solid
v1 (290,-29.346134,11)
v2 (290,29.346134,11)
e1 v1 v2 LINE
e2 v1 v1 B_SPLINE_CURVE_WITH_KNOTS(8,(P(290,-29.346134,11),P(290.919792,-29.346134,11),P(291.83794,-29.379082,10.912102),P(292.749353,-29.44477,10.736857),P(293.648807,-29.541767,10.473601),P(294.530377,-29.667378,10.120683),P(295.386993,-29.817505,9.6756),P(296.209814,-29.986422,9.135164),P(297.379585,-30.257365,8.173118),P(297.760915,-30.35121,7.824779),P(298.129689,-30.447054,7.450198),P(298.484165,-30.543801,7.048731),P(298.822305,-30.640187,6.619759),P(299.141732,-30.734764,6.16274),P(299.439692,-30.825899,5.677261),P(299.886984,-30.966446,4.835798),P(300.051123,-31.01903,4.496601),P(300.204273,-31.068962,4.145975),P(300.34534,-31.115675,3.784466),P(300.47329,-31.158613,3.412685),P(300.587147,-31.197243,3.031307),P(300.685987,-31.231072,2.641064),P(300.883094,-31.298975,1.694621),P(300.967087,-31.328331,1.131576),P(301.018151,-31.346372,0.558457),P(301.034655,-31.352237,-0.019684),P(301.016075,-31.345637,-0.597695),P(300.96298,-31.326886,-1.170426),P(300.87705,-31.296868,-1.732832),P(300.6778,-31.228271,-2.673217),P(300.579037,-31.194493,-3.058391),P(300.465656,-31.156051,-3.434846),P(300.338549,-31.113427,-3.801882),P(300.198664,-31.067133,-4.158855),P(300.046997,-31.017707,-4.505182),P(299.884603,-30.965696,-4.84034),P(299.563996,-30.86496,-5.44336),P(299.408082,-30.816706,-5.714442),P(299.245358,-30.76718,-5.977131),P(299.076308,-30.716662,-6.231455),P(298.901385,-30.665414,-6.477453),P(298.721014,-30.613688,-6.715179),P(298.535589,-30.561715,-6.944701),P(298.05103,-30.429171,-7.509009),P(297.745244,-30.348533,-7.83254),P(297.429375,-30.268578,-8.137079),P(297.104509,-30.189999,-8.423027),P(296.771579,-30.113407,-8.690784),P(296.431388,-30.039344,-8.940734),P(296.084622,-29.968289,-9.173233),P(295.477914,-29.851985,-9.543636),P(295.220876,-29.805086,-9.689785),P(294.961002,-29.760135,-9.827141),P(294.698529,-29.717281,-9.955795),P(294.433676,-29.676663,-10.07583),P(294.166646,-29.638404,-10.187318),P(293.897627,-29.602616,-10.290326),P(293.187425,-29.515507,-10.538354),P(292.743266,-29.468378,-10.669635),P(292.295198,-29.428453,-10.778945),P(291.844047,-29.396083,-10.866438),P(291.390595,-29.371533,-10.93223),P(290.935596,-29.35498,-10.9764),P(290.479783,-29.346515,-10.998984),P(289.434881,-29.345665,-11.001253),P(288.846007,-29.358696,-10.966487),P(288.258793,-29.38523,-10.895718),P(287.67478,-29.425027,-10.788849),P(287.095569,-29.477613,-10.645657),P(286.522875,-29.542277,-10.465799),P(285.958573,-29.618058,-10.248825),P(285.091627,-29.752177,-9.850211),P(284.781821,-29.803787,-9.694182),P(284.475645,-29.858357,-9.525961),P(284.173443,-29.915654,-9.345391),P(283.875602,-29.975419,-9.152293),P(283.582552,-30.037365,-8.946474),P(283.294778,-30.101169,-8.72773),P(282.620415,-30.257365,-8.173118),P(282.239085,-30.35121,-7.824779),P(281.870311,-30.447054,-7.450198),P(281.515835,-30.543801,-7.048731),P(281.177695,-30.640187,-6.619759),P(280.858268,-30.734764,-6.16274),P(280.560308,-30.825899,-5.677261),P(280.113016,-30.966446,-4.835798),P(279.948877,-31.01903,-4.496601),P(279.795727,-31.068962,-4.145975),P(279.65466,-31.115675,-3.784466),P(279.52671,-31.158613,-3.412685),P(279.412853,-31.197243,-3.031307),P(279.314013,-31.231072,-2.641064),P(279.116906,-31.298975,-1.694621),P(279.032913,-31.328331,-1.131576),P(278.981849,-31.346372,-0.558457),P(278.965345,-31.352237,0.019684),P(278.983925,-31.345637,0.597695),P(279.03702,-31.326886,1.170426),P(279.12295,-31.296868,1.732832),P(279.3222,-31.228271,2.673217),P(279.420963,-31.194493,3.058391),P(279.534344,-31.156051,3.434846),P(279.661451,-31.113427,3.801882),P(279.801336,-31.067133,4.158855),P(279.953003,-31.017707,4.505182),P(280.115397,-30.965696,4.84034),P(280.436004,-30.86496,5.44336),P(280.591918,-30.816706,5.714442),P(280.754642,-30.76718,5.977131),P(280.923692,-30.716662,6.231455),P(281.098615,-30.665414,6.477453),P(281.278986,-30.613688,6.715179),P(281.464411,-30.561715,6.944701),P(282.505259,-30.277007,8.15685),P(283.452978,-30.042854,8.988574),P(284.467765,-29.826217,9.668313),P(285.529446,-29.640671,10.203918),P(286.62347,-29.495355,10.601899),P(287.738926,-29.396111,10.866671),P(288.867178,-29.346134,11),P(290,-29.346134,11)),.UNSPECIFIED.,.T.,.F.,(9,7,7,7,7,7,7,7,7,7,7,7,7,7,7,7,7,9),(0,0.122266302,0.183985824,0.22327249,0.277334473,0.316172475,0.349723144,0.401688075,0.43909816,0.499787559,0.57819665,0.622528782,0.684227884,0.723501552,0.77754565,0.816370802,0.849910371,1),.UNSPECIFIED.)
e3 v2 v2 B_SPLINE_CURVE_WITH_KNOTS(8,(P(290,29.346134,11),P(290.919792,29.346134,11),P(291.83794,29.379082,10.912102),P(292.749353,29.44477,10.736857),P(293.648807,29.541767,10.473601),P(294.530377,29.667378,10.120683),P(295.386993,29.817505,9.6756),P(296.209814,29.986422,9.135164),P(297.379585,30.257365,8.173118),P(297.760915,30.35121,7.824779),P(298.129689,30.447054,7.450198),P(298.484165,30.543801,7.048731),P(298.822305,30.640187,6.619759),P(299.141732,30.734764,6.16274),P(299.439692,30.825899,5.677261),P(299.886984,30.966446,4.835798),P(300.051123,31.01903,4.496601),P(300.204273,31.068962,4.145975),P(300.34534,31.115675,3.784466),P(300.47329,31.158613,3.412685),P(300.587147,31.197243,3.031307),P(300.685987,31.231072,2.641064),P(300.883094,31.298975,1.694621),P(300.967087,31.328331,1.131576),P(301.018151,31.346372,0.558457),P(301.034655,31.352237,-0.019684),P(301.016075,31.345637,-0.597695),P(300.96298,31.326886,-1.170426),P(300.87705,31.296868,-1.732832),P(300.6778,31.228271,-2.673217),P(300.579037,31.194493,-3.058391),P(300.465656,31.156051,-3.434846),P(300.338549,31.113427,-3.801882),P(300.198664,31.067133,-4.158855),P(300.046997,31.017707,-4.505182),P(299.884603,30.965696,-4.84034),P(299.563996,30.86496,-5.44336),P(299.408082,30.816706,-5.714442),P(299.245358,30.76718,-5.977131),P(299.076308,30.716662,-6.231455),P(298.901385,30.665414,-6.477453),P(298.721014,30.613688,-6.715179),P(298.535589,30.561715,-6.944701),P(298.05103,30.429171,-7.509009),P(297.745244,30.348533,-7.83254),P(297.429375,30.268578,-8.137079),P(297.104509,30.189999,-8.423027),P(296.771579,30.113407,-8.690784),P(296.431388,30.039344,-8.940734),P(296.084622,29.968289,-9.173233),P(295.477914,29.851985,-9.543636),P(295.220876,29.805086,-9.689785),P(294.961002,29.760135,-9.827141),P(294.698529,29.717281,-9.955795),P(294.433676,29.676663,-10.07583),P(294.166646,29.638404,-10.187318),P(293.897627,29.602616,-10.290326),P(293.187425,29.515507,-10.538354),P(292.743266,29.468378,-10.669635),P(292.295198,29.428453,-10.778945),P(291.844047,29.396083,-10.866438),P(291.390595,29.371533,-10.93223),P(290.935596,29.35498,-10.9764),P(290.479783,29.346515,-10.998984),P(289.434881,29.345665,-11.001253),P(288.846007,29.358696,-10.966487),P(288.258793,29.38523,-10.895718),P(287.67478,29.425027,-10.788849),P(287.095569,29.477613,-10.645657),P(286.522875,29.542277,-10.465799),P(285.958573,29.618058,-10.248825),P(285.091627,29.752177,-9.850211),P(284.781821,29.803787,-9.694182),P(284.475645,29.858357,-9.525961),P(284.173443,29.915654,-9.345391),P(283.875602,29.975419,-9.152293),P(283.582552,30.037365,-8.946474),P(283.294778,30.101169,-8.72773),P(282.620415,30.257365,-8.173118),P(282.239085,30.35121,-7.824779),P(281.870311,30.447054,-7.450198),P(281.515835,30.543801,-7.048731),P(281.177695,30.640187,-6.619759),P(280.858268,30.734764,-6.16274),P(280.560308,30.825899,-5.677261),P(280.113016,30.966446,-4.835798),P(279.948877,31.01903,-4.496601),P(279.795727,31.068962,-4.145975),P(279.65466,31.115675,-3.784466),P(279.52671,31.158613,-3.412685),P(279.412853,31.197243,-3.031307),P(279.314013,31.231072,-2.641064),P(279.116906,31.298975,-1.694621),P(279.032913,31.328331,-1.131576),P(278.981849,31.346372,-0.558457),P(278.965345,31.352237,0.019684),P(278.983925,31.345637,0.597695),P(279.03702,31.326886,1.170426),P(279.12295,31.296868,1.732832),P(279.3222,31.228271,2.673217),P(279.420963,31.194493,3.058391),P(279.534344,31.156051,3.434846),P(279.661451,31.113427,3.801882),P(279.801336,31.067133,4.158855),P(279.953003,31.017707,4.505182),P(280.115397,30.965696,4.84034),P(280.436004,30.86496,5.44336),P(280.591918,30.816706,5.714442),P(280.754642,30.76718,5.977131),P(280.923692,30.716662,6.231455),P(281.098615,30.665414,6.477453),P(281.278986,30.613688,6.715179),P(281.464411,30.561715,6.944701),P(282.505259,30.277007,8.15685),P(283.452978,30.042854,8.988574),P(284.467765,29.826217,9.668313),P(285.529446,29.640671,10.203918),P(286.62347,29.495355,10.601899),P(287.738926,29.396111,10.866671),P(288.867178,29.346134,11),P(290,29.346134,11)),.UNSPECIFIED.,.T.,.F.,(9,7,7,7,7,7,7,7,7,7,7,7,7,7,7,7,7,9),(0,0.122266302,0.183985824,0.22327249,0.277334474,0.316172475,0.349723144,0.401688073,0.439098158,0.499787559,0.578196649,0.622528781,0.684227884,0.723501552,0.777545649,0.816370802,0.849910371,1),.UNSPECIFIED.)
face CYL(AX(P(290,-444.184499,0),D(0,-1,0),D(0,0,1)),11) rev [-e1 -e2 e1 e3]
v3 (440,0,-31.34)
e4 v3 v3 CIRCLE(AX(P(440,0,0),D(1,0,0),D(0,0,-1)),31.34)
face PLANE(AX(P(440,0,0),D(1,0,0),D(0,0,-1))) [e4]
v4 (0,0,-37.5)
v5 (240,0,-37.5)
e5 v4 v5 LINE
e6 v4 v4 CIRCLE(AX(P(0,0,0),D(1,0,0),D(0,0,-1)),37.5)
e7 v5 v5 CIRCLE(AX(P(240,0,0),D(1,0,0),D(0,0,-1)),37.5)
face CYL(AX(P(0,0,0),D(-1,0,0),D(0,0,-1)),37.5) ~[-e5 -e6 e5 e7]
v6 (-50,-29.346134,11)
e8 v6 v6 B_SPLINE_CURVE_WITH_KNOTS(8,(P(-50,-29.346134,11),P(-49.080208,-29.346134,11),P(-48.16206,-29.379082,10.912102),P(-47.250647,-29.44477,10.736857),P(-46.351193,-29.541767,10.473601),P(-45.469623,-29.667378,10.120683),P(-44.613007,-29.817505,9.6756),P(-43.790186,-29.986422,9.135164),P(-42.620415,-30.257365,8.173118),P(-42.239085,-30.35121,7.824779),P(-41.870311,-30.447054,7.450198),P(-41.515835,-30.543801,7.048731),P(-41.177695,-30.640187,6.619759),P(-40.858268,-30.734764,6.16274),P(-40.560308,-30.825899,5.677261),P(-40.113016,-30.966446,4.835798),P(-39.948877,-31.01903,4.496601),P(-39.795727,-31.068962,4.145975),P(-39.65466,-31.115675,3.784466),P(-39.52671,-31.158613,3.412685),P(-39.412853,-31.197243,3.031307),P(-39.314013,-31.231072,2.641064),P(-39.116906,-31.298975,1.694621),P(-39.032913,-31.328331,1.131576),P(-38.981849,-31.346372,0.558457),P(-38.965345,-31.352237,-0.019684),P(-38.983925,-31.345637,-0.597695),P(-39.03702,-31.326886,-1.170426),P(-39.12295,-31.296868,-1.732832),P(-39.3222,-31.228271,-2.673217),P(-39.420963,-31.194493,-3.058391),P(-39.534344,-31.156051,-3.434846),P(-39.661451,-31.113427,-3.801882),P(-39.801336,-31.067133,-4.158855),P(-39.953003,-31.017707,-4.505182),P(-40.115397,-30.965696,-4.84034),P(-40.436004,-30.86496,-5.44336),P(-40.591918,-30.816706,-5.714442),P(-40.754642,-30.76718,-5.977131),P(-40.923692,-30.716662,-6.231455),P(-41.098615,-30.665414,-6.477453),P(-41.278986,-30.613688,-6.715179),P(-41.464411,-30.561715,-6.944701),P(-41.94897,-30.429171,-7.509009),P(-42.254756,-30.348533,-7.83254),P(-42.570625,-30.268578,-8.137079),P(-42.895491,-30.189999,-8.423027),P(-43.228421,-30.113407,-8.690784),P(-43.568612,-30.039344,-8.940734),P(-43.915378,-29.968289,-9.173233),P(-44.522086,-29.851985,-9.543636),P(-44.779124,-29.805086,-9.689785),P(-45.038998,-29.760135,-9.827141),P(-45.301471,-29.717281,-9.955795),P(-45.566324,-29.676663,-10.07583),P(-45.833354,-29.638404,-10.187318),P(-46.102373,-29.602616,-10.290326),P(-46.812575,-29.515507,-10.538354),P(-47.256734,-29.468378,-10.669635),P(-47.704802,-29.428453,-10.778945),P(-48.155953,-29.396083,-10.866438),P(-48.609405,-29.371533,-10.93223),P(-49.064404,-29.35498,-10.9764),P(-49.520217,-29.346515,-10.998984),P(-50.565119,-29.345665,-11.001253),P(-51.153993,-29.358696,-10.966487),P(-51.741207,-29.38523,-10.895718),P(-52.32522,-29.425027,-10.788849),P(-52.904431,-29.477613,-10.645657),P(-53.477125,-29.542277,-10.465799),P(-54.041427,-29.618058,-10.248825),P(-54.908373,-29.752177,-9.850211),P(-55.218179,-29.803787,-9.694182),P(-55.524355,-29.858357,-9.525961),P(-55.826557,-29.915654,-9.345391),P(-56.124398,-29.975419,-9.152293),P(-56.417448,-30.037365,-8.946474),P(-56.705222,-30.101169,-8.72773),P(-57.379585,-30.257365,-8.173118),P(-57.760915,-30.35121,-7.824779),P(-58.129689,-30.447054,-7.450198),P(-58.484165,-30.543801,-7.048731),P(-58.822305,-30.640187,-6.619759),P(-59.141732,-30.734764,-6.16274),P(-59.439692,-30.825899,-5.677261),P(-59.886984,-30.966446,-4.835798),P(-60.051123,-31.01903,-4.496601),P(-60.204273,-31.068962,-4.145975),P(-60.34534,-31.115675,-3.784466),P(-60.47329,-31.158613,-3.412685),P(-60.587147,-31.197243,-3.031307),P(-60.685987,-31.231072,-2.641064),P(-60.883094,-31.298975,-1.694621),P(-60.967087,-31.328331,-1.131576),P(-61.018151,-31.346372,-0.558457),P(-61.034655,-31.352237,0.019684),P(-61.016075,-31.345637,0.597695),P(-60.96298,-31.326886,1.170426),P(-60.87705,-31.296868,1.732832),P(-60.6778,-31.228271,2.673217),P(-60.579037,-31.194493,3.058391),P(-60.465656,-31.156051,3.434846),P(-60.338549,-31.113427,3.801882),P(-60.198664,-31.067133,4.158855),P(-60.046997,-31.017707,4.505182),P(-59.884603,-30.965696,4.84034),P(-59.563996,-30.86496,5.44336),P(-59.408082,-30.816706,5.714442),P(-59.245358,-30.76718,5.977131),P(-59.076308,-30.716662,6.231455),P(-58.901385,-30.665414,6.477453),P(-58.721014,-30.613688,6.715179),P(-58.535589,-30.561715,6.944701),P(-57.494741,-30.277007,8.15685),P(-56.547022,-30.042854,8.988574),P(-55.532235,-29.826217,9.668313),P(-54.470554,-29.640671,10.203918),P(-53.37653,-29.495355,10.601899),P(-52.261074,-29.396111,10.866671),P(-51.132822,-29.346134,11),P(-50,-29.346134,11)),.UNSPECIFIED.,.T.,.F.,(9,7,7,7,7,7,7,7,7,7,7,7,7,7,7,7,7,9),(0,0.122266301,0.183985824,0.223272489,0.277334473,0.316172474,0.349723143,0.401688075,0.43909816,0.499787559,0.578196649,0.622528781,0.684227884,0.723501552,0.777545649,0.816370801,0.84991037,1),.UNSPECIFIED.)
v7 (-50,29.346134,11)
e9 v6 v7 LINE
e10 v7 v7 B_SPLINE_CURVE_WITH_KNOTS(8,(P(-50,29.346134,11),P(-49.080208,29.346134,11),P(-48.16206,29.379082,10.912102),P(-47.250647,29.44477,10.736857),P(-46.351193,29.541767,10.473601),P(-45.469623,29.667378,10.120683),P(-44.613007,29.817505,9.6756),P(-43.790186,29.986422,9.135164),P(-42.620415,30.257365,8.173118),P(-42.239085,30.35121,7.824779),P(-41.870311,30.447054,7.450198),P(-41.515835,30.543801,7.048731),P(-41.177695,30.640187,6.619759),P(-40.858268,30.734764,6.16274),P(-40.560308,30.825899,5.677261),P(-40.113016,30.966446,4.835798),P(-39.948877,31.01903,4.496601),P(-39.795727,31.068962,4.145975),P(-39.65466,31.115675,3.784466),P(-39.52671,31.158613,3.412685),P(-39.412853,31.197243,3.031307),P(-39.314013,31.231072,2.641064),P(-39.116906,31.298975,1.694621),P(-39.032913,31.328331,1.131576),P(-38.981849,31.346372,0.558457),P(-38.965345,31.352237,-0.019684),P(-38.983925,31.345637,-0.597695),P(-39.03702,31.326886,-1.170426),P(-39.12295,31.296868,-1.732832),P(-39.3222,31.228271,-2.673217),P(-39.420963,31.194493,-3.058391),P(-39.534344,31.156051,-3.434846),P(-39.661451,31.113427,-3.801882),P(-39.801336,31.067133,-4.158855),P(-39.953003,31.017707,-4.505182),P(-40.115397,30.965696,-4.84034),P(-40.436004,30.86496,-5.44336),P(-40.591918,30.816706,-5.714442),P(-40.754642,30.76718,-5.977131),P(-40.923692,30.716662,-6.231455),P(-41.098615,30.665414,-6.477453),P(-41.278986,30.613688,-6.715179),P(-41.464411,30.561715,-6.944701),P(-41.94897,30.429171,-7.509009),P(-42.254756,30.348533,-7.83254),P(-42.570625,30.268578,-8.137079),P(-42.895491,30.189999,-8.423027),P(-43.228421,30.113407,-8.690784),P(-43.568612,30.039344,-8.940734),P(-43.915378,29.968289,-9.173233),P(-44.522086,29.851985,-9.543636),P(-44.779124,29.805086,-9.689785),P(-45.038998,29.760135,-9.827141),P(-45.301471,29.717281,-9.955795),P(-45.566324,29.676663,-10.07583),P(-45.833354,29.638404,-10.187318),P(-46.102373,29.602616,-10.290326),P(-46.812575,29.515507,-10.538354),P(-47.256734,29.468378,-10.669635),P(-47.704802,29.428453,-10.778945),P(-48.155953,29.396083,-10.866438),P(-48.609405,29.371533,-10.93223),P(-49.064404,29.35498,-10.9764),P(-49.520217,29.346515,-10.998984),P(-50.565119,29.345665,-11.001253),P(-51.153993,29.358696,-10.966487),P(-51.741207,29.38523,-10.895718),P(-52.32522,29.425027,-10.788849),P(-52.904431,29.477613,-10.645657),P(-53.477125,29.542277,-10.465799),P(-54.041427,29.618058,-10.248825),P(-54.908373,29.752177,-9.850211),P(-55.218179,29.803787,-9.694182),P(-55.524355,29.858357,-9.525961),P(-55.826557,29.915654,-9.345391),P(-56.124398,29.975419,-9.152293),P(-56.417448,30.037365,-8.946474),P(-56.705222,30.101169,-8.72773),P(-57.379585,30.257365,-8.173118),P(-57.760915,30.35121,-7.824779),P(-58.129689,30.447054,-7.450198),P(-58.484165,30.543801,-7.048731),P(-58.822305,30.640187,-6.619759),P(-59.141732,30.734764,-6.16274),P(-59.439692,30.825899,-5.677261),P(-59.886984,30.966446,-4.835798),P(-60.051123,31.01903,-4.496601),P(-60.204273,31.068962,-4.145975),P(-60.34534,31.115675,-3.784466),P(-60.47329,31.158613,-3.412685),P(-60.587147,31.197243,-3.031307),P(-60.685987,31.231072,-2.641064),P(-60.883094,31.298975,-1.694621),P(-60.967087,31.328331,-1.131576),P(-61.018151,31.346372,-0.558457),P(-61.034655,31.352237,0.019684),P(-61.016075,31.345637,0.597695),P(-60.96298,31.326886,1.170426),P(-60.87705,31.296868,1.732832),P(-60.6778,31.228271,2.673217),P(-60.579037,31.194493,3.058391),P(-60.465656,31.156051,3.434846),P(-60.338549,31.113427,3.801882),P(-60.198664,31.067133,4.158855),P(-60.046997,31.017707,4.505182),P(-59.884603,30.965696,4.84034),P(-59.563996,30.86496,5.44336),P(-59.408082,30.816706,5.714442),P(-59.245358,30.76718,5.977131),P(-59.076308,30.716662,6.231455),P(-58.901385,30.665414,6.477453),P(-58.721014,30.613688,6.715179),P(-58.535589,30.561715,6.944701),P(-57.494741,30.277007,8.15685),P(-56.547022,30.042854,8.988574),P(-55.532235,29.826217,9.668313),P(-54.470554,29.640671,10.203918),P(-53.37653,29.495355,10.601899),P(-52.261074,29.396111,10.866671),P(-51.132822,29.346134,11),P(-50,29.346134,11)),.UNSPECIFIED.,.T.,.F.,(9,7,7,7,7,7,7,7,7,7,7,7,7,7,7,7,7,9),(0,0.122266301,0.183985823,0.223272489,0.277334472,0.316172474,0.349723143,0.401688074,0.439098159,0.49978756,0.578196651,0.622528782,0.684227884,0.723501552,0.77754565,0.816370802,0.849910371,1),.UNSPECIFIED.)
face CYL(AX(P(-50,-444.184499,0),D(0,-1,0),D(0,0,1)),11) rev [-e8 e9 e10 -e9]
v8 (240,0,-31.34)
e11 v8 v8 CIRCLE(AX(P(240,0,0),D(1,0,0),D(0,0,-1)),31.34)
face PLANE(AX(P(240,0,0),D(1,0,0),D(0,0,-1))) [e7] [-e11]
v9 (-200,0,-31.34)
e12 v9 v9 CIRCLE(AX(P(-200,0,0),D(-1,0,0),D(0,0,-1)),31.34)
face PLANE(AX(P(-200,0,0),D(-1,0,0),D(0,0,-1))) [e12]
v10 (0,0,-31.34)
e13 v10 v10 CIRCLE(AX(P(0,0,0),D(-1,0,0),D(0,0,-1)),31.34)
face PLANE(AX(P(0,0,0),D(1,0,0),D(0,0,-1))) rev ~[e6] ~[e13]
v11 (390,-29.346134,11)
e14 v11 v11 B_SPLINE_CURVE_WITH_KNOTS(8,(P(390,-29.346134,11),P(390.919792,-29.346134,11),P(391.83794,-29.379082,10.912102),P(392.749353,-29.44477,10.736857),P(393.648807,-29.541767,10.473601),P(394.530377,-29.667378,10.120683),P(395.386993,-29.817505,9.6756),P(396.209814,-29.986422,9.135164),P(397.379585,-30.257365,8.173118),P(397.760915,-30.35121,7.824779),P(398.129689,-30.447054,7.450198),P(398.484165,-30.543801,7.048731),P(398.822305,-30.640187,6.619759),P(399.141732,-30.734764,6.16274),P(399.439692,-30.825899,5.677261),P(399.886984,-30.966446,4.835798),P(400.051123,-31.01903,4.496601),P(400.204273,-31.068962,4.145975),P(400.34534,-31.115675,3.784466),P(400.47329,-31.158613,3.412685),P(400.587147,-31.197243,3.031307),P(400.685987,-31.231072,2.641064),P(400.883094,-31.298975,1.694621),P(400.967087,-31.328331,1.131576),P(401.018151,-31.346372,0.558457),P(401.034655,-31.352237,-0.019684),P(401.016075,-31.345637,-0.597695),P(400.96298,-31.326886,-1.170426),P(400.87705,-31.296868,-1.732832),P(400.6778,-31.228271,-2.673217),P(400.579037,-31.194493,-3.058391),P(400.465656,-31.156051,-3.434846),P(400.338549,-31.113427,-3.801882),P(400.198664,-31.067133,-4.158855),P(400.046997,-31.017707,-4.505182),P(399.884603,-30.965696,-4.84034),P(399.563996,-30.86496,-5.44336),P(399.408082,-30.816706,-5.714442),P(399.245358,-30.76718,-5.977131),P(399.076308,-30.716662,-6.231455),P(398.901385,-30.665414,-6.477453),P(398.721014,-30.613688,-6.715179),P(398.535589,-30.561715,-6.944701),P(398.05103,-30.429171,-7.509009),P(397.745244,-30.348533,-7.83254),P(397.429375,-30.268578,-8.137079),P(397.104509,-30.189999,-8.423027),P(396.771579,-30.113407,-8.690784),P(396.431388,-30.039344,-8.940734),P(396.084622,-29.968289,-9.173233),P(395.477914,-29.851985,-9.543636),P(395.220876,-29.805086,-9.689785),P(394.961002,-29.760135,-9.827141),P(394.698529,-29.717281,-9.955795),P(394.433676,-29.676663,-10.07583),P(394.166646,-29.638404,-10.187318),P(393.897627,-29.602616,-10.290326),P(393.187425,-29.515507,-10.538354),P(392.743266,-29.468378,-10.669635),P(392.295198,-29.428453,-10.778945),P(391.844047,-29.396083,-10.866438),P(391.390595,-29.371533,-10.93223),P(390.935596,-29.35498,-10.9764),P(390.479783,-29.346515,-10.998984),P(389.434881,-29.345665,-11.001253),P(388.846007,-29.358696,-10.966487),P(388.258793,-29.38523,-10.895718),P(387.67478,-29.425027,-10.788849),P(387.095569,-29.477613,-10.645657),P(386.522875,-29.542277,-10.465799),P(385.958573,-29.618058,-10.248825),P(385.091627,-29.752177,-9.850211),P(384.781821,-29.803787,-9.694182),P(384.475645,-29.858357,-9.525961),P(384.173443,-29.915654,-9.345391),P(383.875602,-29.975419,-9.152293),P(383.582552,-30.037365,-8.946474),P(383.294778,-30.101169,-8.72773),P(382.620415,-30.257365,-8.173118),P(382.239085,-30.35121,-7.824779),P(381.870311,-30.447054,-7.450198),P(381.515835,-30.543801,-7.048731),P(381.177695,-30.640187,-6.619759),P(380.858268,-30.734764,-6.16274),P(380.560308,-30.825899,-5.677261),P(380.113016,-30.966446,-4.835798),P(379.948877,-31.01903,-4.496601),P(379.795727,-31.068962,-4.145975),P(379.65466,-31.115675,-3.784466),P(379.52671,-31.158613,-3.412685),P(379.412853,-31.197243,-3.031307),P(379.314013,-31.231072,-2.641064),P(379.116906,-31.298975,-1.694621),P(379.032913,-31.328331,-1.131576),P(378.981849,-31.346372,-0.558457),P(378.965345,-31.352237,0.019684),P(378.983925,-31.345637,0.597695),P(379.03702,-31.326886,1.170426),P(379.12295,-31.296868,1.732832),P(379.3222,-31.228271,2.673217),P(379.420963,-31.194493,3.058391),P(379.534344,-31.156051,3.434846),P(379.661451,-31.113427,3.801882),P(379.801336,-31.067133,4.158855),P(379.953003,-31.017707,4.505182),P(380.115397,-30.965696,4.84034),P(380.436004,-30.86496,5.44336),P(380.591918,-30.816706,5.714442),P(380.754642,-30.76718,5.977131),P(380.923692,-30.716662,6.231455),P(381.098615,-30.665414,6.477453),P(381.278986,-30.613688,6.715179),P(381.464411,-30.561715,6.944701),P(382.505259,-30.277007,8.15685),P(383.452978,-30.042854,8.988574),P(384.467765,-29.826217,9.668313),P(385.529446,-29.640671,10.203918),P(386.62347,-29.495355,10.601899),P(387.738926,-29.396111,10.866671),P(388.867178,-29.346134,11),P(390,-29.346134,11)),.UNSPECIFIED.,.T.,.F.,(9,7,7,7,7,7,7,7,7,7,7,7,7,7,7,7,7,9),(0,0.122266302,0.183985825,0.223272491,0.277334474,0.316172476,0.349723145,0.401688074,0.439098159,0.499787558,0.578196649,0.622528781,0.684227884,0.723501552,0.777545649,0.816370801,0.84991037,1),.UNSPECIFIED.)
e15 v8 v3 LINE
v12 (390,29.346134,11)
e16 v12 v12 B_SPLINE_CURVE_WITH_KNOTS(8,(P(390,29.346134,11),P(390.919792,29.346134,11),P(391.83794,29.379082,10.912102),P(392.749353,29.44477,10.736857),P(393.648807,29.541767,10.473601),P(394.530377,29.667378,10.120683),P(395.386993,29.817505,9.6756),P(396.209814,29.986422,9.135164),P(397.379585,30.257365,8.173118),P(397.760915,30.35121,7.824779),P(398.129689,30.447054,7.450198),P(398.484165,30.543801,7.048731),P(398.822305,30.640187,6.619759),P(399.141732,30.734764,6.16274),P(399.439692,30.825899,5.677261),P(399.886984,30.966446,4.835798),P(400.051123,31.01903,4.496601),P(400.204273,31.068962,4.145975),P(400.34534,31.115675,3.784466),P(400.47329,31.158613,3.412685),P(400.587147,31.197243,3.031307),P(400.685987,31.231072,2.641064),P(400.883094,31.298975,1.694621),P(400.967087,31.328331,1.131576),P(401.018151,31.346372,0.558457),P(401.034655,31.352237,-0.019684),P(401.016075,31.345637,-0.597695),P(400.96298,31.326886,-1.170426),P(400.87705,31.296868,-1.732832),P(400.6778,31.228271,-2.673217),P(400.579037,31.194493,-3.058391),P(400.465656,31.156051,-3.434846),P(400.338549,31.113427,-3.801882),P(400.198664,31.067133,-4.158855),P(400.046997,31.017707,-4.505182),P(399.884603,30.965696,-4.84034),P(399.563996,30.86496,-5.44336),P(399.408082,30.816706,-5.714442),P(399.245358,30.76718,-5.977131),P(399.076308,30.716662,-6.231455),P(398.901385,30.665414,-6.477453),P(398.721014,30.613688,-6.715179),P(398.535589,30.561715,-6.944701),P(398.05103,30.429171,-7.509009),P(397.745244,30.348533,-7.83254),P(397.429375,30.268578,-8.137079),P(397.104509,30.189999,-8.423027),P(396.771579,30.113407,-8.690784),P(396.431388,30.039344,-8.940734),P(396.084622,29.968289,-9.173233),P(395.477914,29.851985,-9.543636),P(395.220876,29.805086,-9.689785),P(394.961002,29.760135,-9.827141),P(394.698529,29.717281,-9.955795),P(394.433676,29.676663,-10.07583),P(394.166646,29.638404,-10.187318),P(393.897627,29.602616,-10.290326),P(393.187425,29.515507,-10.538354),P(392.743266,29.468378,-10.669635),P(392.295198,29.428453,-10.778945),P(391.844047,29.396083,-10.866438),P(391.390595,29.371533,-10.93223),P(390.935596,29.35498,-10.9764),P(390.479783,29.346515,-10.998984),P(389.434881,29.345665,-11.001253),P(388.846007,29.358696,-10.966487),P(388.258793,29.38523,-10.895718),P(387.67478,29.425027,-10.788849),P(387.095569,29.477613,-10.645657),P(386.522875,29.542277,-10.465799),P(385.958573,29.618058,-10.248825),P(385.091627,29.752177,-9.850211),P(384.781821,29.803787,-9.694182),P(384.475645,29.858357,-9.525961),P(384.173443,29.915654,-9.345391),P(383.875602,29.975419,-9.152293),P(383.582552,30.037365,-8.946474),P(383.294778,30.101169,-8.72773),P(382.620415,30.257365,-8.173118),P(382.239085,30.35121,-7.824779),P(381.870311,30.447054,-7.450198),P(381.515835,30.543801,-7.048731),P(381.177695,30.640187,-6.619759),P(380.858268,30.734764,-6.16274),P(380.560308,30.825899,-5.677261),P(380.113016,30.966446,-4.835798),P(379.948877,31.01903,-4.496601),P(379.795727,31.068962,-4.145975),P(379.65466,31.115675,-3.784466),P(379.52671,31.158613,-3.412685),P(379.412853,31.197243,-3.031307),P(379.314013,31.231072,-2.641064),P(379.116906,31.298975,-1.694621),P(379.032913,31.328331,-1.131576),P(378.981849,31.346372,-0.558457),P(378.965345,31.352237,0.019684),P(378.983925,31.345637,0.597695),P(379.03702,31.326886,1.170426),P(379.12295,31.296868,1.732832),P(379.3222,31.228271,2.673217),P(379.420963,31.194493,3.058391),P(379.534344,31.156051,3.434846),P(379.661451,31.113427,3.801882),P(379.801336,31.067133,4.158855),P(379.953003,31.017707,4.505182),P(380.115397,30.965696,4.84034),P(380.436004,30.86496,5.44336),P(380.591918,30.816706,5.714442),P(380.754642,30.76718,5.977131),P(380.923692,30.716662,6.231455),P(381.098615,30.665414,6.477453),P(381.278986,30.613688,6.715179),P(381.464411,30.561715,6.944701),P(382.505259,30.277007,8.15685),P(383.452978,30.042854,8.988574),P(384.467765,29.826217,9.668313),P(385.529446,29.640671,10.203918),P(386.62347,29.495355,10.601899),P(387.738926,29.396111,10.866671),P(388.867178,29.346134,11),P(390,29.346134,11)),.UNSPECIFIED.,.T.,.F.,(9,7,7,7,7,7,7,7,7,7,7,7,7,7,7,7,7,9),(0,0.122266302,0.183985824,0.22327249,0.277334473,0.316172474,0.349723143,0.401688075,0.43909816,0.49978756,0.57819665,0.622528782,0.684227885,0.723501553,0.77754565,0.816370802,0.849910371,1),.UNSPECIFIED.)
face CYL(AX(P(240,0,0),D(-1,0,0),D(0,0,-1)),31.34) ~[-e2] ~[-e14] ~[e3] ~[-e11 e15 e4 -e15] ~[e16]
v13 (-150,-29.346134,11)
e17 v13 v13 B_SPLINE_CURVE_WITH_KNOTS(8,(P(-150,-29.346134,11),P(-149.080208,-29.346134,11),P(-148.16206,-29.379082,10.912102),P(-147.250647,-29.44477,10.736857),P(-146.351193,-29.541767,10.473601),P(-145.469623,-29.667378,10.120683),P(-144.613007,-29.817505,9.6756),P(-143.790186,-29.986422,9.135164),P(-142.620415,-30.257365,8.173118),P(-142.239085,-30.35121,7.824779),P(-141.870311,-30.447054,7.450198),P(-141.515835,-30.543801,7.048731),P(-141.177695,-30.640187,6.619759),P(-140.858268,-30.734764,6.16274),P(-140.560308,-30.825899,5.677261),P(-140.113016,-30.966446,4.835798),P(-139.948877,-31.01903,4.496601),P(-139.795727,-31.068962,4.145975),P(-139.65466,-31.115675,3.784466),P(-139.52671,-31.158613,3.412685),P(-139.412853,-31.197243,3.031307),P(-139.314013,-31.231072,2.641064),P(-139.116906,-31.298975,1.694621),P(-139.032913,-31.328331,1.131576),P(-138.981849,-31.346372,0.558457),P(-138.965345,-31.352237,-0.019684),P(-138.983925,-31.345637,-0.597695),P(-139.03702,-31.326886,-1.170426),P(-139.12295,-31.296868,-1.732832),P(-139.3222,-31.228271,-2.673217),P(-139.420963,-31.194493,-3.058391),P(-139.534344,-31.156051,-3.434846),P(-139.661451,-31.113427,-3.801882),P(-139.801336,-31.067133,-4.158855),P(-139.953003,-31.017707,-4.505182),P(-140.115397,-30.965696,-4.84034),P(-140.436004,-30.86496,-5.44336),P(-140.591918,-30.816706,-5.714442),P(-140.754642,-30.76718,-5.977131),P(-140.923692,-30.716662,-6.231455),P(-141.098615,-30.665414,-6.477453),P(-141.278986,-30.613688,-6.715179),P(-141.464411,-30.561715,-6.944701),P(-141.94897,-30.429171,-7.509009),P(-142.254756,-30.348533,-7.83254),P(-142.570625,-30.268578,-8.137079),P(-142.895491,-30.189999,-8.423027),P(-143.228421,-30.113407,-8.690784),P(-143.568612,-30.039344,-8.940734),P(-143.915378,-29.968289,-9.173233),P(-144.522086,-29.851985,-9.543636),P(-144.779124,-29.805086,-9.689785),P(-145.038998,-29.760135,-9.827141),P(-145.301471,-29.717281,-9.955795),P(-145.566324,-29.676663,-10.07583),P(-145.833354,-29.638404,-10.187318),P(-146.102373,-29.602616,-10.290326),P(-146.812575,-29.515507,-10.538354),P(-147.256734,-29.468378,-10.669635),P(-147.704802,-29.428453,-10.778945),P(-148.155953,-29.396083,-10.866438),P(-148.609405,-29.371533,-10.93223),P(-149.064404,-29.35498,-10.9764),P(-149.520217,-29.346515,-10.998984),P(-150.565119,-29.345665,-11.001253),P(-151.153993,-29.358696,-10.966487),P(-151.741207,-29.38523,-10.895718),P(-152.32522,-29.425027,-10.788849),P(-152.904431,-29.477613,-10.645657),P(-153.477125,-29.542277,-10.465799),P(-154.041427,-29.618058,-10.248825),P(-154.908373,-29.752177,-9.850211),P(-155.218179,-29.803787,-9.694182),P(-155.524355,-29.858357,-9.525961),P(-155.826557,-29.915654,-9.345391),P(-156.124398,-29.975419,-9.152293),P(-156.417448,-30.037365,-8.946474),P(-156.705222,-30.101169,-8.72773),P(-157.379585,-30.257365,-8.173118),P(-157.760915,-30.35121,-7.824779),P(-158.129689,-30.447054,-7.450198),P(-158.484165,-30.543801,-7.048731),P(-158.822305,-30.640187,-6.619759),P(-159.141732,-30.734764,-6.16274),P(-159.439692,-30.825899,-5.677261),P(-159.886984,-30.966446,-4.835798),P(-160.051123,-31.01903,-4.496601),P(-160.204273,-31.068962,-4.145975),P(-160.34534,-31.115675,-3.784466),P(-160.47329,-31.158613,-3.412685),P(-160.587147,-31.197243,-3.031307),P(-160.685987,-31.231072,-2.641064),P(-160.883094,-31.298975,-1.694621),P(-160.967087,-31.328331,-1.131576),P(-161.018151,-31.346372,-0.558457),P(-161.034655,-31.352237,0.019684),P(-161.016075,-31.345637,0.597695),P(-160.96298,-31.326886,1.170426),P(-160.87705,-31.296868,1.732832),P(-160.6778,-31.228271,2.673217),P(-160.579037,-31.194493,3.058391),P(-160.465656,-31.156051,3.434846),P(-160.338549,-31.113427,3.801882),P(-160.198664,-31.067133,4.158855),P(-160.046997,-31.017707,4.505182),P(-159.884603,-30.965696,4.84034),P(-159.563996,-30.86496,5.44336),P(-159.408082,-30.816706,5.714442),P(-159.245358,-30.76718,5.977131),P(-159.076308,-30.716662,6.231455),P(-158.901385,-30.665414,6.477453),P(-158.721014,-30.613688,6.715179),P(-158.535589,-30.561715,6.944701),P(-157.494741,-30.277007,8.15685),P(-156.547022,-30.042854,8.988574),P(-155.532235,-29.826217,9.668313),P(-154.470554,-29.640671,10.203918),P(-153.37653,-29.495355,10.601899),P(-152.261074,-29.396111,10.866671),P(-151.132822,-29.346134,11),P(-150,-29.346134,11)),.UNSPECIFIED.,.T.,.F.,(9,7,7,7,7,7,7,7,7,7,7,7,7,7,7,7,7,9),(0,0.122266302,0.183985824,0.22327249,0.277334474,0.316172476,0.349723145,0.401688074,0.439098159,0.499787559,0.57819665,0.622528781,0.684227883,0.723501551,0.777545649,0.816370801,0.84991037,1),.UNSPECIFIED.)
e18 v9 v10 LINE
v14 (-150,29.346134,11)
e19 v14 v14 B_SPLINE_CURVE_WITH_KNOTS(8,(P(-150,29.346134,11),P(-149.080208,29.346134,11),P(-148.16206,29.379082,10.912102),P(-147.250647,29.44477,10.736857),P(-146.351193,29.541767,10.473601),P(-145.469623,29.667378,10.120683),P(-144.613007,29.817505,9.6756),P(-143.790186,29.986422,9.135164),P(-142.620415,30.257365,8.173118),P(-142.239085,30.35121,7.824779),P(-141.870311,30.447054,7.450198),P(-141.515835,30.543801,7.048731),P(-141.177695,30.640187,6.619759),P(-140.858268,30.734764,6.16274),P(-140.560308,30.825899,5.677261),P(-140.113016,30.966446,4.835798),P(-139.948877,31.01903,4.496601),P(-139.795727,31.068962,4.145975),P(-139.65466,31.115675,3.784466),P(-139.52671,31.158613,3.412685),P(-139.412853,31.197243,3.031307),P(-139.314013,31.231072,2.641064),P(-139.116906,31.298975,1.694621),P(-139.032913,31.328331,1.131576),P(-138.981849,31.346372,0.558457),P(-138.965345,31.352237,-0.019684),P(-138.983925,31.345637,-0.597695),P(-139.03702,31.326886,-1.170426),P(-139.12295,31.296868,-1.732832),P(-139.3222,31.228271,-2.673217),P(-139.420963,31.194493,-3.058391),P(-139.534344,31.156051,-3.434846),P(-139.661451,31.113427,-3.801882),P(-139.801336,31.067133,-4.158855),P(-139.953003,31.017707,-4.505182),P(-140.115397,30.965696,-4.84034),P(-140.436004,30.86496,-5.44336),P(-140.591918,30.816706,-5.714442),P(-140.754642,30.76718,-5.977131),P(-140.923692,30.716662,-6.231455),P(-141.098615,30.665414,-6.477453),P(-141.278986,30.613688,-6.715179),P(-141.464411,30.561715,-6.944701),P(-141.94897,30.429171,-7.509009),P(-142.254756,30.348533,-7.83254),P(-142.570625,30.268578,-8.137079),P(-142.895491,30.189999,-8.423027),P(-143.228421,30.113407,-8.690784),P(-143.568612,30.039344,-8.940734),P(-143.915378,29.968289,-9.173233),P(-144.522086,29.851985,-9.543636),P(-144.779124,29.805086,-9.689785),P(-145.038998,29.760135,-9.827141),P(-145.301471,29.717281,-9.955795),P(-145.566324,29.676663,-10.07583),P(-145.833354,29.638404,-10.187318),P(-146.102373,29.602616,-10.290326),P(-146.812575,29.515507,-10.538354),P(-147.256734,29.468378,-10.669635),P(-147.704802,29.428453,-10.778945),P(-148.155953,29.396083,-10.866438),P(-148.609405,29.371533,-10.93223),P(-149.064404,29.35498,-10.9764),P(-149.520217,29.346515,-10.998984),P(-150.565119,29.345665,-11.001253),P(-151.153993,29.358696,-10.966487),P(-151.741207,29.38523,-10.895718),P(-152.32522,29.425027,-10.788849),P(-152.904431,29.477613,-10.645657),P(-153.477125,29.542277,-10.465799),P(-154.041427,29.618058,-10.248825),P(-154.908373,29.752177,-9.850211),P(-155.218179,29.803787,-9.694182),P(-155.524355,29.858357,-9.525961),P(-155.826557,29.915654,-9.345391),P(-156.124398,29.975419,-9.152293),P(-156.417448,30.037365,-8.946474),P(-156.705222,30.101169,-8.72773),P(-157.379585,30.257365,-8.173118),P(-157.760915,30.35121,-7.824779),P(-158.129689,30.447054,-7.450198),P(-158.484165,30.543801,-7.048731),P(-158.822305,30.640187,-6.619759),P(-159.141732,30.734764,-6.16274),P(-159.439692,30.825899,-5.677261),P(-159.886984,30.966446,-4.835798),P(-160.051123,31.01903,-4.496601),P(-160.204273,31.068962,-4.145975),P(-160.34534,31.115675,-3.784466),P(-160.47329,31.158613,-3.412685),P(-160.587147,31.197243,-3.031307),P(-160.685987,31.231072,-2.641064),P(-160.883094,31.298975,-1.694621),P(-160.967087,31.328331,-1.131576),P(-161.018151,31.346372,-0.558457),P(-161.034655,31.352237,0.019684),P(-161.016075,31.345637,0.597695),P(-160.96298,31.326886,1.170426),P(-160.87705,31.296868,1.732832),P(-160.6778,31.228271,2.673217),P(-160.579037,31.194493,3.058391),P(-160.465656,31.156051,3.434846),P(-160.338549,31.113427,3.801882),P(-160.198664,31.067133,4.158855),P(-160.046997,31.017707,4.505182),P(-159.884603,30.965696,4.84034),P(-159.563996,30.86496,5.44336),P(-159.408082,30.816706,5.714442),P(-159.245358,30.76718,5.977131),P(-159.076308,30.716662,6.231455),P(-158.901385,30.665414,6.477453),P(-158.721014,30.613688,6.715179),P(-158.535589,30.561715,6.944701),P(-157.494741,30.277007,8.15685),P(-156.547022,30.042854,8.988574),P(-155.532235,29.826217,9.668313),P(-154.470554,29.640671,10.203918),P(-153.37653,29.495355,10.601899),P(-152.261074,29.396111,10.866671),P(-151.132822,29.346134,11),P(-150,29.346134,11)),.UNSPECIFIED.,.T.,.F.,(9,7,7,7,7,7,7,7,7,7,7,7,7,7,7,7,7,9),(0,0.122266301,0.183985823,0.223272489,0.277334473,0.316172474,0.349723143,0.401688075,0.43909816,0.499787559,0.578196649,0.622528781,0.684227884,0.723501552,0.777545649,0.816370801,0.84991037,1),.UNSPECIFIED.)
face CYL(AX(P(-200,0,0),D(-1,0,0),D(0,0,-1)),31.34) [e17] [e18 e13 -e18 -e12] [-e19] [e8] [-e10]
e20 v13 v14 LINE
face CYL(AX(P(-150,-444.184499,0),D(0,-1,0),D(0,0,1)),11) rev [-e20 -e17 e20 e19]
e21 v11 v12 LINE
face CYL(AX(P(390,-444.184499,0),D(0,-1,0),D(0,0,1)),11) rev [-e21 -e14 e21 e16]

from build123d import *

# Parameters (mm, degrees)
SKETCH1_R               = 37.5
BOSS_EXTRUDE1_DEPTH     = 240
SKETCH2_R               = 31.34
BOSS_EXTRUDE2_DEPTH     = 200
BOSS_EXTRUDE3_START     = 200
SKETCH3_R               = 31.34
BOSS_EXTRUDE3_DEPTH     = 200
CUT_EXTRUDE1_DEPTH      = 444.184498826
CUT_EXTRUDE1_DEPTH_BACK = 444.184498826
SKETCH4_R               = 11


with BuildPart() as part:
    # Sketch1 → Boss-Extrude1 (new body)
    with BuildSketch(Plane(origin=(0, 0, 0), x_dir=(0, 0, -1), z_dir=(1, 0, 0))):
        Circle(SKETCH1_R)
    extrude(amount=BOSS_EXTRUDE1_DEPTH)

    # Sketch2 → Boss-Extrude2 (add)
    with BuildSketch(Plane(origin=(240, 0, 0), x_dir=(0, 0, -1), z_dir=(1, 0, 0))):
        Circle(SKETCH2_R)
    extrude(amount=BOSS_EXTRUDE2_DEPTH)

    # Sketch3 → Boss-Extrude3 (add)
    with BuildSketch(Plane.ZY.offset(BOSS_EXTRUDE3_START)):
        with Locations(Location((0, 0, 0), (0, 0, 180))):
            Circle(SKETCH3_R)
    extrude(amount=-BOSS_EXTRUDE3_DEPTH)

    # Sketch4 → Cut-Extrude1 (cut, two sides: drawn at the far end of the back side and taken through both)
    with BuildSketch(Plane(origin=(0, 0, 0), x_dir=(1, 0, 0), z_dir=(0, 1, 0)).offset(-CUT_EXTRUDE1_DEPTH_BACK)):
        with Locations(Location((-50, 0, 0), (0, 0, 270))):
            Circle(SKETCH4_R)
        with Locations(Location((-150, 0, 0), (0, 0, 270))):
            Circle(SKETCH4_R)
        with Locations(Location((290, 0, 0), (0, 0, 270))):
            Circle(SKETCH4_R)
        with Locations(Location((390, 0, 0), (0, 0, 270))):
            Circle(SKETCH4_R)
    extrude(amount=CUT_EXTRUDE1_DEPTH + CUT_EXTRUDE1_DEPTH_BACK, mode=Mode.SUBTRACT)


solid = part.part
